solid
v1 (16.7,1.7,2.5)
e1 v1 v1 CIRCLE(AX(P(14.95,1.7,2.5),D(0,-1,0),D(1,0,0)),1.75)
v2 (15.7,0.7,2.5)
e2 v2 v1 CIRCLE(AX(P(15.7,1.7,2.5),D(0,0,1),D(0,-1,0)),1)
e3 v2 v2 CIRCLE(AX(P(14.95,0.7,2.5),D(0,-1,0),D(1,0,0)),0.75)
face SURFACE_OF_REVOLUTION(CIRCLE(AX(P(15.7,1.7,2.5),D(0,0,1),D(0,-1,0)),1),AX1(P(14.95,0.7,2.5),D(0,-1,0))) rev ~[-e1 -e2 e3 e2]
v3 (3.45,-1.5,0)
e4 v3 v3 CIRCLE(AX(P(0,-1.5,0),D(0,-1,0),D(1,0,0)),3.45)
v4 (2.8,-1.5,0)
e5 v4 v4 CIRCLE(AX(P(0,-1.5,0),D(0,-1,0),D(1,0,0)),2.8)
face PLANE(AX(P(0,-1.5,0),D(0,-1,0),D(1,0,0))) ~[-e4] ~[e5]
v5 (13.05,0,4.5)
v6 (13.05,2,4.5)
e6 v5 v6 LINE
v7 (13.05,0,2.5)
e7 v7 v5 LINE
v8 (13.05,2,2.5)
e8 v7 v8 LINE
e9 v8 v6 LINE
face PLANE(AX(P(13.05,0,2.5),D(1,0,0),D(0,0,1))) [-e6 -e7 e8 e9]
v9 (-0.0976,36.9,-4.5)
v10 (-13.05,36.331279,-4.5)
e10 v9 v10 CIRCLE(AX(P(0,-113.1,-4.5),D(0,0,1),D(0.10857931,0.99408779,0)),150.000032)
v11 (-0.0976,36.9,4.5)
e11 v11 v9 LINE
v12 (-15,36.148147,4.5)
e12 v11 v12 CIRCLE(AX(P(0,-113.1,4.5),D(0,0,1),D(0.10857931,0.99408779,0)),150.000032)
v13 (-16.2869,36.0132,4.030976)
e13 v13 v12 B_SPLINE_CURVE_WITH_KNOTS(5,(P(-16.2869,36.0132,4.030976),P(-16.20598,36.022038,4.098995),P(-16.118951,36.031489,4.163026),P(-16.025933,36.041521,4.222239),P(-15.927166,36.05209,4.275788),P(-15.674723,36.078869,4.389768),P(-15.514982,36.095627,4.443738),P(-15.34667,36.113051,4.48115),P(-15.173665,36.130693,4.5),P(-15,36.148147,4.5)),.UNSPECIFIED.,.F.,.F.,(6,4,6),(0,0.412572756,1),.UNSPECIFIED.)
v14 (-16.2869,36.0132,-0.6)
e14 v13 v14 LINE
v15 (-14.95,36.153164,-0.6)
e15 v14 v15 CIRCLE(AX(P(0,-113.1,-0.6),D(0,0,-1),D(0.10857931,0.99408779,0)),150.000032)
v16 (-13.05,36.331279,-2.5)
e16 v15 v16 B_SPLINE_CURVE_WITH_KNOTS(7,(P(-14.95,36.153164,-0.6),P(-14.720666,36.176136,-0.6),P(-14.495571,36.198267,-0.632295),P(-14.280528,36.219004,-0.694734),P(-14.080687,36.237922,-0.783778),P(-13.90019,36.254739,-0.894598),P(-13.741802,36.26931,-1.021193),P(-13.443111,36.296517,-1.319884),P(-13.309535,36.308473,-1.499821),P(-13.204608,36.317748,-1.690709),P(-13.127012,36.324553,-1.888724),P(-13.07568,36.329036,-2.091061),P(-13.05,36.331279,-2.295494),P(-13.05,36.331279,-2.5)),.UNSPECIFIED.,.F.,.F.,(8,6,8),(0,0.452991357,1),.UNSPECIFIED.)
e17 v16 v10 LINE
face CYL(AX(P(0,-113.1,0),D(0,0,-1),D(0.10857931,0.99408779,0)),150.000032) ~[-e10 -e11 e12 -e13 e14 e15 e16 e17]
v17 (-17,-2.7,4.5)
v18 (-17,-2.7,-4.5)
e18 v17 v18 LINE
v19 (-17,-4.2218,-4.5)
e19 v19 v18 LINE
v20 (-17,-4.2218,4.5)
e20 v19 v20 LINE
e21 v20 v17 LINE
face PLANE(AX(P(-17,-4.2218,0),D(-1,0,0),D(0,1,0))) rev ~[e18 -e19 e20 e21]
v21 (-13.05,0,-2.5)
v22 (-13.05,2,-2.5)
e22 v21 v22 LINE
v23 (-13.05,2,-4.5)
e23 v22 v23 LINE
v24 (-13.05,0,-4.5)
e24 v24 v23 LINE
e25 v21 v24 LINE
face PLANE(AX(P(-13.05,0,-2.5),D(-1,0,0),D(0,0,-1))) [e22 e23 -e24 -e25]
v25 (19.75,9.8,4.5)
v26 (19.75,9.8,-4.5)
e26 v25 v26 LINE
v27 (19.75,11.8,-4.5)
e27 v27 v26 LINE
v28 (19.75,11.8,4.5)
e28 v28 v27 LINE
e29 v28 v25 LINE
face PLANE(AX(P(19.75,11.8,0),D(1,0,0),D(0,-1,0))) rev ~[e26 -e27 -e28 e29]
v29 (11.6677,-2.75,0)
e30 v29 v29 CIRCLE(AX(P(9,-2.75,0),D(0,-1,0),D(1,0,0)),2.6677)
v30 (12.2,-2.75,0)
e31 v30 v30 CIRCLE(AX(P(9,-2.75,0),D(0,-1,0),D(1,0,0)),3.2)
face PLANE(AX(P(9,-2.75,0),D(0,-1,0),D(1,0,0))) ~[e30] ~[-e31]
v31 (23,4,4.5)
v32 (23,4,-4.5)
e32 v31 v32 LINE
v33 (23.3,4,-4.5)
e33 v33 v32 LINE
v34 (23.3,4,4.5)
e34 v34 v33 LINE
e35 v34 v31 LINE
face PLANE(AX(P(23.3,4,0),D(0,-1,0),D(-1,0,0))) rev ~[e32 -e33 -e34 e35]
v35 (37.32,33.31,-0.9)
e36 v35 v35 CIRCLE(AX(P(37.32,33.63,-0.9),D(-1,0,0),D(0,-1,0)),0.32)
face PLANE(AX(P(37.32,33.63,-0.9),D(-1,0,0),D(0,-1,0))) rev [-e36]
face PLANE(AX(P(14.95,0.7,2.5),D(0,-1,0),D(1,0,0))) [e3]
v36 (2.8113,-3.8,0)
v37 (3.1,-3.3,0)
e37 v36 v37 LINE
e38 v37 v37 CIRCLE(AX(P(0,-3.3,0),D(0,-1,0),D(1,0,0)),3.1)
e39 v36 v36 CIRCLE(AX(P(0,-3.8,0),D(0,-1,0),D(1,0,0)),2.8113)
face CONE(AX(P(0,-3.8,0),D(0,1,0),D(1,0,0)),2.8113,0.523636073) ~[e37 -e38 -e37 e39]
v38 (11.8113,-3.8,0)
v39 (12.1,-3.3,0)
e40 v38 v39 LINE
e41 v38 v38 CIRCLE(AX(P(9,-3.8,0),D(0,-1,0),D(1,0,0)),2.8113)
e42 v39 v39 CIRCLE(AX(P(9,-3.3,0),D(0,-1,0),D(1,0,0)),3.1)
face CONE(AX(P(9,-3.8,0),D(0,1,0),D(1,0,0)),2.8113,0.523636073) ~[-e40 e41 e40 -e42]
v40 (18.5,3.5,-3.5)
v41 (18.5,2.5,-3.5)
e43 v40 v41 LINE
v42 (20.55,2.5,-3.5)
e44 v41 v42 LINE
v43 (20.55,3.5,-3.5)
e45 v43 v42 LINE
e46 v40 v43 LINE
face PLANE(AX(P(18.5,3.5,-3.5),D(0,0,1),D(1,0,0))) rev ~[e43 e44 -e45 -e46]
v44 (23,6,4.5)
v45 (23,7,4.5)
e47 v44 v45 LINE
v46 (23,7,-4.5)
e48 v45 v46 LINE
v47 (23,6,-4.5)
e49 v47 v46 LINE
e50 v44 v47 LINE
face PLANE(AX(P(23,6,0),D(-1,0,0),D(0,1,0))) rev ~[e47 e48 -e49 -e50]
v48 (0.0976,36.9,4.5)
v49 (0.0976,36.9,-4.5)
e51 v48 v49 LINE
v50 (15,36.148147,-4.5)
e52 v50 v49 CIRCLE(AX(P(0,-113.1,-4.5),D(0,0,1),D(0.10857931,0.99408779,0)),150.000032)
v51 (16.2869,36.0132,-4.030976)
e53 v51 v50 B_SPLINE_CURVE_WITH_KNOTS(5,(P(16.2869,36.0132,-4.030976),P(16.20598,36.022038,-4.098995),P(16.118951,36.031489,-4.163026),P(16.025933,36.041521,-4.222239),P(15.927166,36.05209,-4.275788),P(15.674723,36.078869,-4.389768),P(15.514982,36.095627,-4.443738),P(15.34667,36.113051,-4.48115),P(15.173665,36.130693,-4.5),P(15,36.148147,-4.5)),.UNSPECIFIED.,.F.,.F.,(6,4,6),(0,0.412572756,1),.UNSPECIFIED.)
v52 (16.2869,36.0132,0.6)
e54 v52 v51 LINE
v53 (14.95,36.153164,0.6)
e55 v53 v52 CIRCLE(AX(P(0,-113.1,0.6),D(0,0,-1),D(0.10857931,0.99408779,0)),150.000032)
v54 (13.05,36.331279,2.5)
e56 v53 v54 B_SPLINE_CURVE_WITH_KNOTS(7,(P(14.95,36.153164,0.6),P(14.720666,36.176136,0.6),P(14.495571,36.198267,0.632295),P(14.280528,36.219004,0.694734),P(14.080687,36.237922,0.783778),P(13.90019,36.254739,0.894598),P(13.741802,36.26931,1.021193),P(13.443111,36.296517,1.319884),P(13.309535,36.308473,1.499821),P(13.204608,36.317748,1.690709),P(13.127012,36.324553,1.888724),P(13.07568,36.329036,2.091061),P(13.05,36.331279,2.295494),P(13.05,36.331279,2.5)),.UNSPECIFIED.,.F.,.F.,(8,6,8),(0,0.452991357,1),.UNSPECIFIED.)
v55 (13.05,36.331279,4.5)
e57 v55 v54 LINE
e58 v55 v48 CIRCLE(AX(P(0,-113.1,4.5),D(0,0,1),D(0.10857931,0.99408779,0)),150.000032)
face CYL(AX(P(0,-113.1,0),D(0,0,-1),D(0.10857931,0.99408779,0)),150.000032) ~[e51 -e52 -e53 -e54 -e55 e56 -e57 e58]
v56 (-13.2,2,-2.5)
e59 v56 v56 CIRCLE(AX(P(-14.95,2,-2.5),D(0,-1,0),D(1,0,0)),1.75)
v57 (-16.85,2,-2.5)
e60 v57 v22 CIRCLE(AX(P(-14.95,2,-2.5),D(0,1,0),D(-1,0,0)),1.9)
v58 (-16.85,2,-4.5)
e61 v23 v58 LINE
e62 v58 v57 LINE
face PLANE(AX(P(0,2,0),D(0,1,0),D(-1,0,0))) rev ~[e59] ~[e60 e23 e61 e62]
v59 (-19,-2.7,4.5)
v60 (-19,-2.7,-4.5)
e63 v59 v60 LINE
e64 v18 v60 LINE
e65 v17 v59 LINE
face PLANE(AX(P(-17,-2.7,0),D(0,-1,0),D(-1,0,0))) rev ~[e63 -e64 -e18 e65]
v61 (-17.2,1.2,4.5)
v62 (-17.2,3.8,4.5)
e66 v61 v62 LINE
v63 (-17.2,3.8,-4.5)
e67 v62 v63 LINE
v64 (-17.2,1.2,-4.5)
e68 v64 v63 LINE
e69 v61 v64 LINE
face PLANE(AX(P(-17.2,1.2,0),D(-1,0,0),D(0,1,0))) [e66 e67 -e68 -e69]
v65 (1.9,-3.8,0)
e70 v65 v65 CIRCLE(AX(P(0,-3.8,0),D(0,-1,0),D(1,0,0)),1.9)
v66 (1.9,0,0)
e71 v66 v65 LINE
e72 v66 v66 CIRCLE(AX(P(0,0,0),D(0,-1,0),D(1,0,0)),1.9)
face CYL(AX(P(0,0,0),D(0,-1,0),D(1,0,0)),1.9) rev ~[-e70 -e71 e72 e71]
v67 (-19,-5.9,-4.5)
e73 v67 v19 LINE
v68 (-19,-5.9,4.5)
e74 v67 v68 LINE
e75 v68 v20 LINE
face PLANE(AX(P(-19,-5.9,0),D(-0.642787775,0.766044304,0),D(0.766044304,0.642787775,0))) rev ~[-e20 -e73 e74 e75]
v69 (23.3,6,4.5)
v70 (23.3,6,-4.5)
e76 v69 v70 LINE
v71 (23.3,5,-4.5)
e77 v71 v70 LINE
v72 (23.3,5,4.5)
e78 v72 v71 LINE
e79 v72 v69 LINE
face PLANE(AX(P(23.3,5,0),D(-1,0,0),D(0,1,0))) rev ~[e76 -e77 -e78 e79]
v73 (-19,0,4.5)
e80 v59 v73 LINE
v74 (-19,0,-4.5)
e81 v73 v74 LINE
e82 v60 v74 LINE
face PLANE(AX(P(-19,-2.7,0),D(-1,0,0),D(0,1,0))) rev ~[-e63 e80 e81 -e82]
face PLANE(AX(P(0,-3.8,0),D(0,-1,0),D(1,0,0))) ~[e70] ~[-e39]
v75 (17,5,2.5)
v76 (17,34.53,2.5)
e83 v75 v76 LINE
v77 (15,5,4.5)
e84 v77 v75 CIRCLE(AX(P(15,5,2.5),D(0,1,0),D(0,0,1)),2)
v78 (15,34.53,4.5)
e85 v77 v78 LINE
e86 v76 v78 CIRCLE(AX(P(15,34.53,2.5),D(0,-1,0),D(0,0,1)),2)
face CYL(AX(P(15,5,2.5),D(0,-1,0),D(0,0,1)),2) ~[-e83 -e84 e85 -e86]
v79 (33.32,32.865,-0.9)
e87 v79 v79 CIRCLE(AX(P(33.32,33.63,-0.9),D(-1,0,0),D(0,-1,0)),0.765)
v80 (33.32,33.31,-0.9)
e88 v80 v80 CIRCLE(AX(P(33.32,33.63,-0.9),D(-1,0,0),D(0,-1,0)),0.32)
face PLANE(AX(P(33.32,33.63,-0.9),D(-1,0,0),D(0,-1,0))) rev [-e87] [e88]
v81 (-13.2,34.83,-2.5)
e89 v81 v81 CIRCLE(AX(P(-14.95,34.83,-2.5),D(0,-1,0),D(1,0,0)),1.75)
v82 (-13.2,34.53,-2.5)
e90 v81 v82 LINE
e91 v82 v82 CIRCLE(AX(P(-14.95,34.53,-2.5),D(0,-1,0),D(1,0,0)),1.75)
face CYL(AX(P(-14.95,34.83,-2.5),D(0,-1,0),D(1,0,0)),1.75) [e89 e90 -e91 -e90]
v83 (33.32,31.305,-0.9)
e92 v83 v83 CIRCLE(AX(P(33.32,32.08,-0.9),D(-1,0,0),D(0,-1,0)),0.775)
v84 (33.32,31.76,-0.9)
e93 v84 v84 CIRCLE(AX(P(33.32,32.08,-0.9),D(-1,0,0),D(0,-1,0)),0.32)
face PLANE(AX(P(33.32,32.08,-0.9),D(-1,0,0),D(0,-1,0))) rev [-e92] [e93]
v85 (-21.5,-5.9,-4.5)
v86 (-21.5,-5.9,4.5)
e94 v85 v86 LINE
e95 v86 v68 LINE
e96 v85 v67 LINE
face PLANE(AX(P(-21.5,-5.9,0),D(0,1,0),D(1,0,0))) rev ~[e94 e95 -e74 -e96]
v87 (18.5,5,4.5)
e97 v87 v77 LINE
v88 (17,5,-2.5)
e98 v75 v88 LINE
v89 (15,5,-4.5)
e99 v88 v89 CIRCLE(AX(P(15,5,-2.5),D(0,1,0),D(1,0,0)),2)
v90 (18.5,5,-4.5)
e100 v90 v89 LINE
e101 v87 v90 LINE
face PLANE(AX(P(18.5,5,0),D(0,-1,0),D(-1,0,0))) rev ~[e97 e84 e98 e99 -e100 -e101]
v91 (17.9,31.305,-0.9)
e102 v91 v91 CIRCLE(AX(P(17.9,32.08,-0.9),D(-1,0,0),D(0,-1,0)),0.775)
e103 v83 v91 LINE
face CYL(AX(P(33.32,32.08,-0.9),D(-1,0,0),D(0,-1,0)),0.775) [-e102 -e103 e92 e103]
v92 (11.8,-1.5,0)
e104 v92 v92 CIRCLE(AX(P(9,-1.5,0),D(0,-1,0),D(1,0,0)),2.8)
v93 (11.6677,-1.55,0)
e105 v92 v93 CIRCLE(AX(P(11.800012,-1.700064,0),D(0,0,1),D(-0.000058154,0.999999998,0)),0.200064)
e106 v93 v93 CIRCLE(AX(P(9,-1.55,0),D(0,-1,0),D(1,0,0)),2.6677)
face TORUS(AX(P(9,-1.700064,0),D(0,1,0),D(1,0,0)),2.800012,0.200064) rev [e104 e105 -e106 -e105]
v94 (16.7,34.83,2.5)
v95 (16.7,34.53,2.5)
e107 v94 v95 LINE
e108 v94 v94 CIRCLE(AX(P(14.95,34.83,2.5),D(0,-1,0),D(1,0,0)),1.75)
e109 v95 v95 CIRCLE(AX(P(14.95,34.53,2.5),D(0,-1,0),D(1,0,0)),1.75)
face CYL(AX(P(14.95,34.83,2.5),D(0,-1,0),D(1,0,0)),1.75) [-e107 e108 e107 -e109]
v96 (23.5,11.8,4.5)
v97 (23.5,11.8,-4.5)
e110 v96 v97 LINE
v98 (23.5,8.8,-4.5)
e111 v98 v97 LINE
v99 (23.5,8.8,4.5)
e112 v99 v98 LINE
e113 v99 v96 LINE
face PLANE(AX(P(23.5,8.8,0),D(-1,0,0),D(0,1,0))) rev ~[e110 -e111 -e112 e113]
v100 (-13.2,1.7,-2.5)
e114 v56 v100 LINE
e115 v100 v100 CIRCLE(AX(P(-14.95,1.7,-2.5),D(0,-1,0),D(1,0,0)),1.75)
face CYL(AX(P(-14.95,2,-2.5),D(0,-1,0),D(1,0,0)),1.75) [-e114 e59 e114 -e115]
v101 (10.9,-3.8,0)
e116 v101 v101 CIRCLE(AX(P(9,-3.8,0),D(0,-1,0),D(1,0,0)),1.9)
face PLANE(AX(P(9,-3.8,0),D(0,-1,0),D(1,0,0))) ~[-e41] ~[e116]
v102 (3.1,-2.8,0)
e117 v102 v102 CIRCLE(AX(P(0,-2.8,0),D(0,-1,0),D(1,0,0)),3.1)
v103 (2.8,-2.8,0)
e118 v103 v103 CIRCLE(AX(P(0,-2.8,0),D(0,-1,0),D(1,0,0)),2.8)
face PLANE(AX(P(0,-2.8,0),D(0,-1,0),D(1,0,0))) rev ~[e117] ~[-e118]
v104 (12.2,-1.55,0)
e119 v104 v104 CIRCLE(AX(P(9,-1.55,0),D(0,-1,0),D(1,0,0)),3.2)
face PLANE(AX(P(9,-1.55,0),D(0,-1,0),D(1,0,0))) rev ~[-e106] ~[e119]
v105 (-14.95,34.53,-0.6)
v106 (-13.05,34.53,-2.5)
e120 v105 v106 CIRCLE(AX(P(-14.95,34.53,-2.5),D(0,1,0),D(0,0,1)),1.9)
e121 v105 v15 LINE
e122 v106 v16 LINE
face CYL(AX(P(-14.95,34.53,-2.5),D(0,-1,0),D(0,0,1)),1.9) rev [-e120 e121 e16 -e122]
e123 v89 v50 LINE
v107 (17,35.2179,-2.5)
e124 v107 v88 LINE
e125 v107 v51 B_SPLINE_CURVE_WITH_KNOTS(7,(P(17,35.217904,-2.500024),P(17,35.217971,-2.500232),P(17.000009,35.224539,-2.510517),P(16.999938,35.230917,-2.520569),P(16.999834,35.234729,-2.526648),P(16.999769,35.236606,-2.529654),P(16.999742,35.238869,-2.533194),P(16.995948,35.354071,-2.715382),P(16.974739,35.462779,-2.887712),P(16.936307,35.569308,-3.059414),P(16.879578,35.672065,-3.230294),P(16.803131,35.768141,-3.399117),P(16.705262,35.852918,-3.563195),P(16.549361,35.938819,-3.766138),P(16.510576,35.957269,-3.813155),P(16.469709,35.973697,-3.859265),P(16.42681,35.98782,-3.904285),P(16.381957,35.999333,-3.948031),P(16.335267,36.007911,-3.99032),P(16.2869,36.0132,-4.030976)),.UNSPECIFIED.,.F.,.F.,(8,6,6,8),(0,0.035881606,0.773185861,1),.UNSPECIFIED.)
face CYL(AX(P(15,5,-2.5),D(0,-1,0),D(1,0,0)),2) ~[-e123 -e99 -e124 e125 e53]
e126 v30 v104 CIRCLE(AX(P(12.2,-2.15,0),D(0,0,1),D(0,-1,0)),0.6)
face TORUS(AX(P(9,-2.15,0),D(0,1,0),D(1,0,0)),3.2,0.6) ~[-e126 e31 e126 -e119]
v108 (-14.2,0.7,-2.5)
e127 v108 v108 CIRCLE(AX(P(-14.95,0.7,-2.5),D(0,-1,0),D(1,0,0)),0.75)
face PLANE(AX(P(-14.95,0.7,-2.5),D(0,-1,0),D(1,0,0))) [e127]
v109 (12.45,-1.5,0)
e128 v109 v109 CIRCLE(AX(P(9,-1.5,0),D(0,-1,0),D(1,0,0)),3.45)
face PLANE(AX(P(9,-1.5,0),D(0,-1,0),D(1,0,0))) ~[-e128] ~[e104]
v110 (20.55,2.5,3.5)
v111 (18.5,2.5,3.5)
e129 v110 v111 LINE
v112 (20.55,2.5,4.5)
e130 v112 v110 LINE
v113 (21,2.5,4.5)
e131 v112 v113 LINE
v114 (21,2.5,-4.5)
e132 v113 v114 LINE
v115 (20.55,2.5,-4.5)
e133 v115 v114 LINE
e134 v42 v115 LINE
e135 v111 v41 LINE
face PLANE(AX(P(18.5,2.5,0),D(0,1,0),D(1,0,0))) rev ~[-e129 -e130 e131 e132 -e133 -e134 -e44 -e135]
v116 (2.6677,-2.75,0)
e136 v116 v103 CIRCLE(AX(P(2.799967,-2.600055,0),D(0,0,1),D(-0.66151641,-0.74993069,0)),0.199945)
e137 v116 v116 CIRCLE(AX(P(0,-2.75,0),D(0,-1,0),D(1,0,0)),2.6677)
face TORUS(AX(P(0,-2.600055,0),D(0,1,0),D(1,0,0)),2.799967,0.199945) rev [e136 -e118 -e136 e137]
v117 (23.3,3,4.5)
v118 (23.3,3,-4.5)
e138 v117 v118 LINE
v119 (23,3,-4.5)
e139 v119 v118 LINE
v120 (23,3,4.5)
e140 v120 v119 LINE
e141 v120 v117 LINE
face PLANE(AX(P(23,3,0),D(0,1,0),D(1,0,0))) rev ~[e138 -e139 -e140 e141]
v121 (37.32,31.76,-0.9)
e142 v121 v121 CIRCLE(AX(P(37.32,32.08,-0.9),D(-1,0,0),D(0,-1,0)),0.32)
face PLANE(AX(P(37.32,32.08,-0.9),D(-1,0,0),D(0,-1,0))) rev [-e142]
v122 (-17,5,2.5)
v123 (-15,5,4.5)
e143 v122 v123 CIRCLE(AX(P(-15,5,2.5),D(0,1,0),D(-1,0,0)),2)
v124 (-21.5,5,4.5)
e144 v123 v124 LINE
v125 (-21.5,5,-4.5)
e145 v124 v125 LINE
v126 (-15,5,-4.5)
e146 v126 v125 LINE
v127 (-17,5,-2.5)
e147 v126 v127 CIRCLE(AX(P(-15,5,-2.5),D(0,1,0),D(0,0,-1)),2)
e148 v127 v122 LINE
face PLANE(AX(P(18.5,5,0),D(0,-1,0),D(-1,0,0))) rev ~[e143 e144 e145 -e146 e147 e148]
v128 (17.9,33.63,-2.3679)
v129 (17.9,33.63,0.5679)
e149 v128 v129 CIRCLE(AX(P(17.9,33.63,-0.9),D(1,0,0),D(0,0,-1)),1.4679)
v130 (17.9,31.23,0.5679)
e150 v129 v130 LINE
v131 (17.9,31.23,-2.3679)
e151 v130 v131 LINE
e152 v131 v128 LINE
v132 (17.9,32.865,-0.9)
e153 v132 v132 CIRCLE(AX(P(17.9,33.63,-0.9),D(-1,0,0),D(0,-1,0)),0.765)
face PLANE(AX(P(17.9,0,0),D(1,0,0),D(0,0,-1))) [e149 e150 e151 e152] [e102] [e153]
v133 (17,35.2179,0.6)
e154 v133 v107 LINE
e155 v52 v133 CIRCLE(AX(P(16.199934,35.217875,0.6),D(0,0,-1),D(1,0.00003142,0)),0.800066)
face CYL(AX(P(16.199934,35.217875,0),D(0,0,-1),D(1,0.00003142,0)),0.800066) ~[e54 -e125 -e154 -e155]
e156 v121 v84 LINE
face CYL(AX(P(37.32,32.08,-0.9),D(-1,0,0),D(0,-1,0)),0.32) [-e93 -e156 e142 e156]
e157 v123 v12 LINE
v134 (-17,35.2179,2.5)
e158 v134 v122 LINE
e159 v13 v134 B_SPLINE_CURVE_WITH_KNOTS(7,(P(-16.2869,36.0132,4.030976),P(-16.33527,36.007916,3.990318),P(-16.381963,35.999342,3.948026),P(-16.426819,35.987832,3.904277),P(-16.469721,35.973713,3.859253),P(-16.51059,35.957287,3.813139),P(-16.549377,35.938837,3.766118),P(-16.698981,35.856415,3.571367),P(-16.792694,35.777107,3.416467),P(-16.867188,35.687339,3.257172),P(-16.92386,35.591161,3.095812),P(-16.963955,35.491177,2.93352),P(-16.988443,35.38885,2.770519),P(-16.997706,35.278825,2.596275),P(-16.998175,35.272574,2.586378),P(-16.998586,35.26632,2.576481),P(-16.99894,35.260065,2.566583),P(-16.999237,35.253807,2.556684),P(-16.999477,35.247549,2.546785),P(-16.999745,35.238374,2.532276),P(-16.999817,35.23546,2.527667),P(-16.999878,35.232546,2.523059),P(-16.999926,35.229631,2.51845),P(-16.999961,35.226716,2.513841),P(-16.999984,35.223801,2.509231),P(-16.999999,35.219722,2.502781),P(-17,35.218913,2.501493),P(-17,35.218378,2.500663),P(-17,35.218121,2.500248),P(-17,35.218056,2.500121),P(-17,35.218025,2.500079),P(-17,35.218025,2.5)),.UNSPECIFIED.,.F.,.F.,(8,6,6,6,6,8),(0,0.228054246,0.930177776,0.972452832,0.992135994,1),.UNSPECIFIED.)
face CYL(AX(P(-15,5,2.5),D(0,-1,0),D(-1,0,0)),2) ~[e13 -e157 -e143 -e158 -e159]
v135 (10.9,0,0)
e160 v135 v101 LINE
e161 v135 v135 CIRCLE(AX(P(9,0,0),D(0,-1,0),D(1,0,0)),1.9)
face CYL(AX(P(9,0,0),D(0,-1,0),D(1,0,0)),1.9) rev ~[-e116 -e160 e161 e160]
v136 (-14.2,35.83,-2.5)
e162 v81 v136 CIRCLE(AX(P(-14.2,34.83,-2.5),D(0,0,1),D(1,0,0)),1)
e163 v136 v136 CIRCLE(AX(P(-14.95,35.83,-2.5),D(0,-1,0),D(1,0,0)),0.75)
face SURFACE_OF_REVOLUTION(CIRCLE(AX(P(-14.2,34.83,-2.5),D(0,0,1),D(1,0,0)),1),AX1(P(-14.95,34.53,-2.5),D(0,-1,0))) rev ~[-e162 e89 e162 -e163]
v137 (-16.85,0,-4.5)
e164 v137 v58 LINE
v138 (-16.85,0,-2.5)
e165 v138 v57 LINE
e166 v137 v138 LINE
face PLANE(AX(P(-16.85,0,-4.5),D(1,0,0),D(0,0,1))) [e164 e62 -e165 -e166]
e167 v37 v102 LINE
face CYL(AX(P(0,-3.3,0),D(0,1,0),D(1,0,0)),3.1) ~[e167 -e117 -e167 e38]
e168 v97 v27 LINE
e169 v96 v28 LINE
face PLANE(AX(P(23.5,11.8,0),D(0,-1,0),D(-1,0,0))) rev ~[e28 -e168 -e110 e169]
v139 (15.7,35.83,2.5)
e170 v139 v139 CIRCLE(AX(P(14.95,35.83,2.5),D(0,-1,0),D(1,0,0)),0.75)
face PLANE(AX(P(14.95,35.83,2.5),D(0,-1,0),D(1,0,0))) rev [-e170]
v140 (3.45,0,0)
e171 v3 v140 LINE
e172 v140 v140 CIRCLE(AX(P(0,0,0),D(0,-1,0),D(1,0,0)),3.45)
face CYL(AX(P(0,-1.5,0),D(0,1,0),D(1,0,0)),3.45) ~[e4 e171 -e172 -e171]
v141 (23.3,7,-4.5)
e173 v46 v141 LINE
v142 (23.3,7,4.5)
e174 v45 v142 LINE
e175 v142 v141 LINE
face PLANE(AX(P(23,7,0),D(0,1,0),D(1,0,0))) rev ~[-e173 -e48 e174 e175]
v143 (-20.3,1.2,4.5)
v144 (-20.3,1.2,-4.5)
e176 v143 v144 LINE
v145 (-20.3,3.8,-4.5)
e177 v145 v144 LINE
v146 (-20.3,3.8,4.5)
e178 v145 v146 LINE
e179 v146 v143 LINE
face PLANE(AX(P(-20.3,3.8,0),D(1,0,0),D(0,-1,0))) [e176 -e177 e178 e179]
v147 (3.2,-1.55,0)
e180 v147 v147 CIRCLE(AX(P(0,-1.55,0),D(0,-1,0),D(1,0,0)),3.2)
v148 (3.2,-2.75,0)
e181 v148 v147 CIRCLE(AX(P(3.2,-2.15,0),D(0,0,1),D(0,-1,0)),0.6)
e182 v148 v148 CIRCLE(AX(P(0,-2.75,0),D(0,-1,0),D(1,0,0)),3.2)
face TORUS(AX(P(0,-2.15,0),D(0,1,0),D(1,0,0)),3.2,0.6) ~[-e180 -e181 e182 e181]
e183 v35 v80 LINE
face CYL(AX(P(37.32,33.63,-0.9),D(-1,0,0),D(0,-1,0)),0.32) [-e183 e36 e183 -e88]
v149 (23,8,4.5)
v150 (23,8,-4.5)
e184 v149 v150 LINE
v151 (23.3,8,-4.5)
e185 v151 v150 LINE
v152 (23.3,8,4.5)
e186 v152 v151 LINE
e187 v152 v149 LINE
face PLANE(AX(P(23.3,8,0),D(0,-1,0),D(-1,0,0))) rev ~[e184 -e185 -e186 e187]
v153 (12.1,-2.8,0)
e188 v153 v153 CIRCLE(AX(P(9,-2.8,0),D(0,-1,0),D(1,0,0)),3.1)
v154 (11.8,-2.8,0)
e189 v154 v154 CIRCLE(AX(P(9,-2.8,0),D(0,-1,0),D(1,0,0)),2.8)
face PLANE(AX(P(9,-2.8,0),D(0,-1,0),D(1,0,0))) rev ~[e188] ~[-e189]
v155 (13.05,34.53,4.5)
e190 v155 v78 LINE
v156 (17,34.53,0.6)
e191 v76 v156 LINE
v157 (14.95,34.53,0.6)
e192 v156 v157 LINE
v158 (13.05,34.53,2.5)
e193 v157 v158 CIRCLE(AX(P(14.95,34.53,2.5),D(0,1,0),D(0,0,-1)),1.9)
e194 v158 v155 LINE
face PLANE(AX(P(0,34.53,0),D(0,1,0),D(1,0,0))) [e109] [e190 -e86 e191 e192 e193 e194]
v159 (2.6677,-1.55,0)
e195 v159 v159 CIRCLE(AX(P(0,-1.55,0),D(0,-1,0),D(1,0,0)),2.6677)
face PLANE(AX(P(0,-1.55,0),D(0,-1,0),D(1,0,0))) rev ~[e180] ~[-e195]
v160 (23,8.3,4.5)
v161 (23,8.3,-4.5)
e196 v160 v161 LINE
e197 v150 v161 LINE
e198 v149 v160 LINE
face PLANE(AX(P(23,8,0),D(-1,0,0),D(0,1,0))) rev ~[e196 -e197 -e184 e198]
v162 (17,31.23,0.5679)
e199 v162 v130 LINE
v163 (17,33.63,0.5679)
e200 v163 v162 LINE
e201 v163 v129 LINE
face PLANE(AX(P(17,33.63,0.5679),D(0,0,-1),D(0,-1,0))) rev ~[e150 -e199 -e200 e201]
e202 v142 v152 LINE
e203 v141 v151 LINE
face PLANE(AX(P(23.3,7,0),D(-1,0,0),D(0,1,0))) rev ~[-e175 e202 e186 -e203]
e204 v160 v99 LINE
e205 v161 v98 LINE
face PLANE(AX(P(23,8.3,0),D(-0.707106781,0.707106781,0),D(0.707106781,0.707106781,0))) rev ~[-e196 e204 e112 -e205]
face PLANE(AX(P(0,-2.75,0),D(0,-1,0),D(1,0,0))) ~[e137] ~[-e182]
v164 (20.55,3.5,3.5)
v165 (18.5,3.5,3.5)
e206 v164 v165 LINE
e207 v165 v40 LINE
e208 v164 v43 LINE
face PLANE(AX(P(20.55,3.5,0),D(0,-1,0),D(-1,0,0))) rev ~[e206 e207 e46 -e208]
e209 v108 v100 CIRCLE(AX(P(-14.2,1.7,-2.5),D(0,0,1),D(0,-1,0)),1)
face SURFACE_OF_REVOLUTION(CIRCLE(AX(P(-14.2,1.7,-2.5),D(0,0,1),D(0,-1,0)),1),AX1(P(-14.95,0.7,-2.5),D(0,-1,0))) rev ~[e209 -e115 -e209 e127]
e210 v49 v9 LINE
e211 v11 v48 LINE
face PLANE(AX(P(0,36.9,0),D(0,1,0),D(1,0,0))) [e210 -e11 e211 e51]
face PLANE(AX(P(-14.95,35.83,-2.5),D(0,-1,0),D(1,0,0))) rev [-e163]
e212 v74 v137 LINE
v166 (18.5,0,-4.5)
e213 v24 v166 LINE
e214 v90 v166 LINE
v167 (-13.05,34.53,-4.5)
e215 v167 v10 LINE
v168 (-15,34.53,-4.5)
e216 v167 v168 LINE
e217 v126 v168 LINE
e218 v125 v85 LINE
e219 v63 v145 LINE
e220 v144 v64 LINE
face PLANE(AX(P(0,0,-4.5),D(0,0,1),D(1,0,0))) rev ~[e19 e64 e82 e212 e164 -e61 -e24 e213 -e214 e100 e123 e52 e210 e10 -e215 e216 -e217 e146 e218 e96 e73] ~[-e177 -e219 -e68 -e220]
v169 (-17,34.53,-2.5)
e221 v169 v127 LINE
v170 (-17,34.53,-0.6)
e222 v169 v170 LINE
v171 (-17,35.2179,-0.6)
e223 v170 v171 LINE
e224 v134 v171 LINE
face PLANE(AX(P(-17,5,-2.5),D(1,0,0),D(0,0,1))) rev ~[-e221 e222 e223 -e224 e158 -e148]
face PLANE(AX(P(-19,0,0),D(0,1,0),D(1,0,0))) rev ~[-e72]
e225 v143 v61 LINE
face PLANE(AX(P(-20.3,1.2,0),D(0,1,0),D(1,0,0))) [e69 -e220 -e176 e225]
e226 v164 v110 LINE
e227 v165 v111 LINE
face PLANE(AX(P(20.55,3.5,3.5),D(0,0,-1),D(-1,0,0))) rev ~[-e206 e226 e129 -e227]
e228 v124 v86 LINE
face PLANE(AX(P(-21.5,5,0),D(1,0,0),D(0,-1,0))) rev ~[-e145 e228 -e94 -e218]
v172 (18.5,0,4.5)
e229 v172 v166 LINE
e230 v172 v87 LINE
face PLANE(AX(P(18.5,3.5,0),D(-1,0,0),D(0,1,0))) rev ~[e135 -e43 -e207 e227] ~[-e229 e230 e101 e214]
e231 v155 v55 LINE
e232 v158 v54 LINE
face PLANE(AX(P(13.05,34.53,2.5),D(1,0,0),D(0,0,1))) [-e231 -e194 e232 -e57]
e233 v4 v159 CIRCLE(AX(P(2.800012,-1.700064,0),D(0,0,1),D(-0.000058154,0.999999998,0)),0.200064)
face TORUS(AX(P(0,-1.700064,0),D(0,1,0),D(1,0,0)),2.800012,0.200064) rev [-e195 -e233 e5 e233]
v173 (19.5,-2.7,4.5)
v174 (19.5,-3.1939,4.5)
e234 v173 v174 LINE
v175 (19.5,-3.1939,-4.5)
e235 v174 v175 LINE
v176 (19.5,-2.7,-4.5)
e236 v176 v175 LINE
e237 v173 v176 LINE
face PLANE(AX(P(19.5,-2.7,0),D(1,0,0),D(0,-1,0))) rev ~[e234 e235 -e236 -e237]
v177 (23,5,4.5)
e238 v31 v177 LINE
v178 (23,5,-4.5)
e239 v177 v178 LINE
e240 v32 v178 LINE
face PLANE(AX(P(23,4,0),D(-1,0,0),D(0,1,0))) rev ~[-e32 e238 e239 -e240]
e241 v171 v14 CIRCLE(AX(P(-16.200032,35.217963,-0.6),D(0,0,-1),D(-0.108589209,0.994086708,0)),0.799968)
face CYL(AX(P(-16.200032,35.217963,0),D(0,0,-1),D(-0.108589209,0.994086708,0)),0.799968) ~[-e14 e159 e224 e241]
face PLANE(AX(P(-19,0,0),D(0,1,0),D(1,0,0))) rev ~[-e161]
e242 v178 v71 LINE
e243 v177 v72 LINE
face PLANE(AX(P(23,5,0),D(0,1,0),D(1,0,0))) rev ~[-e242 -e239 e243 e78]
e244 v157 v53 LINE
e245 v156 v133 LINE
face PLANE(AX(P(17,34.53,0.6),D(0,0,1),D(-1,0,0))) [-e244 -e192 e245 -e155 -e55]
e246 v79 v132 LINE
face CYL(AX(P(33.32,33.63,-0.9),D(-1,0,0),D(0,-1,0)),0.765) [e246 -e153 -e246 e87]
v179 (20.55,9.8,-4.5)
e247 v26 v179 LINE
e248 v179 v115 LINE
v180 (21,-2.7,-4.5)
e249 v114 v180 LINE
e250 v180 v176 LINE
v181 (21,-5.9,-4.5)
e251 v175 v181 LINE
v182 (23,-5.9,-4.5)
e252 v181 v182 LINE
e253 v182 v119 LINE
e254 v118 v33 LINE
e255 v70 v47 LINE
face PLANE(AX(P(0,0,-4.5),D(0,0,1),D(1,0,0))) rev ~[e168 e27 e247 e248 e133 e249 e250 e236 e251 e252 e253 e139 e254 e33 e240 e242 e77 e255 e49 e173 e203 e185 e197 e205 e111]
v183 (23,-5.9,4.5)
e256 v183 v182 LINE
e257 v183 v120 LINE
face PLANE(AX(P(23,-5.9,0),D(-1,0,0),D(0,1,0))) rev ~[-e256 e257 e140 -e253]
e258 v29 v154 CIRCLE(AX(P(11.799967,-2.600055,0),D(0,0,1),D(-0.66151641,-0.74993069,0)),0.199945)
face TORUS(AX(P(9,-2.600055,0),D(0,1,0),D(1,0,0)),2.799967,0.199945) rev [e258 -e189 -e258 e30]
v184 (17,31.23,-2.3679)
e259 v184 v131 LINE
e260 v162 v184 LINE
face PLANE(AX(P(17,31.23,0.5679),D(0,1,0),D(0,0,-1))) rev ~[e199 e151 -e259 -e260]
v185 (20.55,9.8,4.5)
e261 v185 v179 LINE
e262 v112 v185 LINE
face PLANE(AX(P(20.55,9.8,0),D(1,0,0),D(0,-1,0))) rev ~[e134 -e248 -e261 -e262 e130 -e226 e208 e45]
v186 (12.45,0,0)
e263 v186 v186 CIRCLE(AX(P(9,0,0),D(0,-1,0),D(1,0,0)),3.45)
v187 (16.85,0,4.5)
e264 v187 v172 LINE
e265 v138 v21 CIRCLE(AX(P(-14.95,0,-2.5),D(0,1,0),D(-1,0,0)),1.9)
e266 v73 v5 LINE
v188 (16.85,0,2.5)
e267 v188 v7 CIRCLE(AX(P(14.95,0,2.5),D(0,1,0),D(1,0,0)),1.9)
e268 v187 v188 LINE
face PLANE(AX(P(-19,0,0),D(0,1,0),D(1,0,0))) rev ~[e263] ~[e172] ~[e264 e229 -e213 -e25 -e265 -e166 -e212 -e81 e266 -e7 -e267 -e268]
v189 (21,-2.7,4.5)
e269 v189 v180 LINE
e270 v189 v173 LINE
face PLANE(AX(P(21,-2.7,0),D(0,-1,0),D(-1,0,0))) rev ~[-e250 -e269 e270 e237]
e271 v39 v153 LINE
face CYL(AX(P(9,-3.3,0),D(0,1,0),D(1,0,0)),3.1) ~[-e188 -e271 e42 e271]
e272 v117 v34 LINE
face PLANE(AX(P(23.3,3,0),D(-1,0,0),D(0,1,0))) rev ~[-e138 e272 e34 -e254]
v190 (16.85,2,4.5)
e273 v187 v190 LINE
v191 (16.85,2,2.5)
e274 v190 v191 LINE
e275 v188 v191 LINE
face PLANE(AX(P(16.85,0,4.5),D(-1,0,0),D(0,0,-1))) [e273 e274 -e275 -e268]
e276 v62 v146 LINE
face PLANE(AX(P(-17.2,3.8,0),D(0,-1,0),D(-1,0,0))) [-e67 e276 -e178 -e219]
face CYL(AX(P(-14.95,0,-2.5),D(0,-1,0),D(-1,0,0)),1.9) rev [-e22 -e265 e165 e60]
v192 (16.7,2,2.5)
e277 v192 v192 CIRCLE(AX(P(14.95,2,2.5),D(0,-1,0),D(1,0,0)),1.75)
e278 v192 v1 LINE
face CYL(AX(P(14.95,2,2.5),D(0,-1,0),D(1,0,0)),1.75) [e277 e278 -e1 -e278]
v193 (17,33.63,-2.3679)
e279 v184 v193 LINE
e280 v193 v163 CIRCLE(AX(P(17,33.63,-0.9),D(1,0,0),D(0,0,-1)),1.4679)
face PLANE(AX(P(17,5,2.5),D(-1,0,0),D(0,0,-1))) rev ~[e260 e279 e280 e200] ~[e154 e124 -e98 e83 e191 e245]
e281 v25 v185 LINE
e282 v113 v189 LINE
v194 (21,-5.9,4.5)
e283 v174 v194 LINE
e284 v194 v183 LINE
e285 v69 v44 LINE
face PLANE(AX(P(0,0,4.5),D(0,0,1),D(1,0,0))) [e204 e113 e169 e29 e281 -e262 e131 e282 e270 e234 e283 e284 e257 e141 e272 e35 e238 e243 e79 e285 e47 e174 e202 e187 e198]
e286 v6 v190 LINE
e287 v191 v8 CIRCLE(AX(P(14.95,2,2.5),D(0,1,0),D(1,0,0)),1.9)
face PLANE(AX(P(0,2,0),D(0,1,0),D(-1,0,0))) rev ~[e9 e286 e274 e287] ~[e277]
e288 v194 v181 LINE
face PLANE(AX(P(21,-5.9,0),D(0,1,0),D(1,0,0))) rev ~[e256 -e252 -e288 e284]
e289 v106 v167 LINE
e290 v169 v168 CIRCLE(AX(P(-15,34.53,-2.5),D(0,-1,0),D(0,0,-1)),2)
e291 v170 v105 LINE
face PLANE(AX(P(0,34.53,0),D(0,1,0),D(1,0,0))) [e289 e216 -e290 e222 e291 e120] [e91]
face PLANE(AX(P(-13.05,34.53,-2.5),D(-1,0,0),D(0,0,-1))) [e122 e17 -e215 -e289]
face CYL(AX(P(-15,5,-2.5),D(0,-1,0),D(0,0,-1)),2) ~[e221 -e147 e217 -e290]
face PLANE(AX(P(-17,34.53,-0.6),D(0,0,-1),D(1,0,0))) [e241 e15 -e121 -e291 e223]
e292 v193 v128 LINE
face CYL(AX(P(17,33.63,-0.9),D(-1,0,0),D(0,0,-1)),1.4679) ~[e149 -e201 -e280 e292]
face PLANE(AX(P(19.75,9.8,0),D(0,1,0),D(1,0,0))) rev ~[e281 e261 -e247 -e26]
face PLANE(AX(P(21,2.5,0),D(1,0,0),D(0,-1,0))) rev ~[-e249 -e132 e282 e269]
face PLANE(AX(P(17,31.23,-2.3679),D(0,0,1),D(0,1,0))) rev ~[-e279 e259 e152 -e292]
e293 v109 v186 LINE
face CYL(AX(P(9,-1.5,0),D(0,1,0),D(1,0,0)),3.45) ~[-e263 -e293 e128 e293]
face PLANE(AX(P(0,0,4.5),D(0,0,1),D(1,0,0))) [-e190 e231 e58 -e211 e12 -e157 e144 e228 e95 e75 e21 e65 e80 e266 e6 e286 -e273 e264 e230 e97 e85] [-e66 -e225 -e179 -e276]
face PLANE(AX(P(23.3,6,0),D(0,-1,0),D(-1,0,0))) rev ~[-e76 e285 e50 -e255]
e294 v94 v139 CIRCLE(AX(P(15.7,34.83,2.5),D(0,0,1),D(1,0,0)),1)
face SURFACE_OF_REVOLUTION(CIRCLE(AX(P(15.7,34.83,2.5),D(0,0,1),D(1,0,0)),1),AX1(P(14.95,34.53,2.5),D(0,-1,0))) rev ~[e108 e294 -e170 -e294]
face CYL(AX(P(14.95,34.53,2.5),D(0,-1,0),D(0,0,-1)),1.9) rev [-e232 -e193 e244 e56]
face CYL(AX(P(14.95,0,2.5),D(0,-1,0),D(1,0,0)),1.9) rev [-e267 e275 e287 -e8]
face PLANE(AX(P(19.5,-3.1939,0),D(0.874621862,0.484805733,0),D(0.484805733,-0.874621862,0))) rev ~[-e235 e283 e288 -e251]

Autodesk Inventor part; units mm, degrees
ref_plane "YZ Plane" through (0, 0, 0) normal (1, 0, 0) x (0, 1, 0)
ref_plane "XZ Plane" through (0, 0, 0) normal (0, 1, 0) x (-1, 0, 0)
ref_plane "XY Plane" through (0, 0, 0) normal (0, 0, 1) x (1, 0, 0)
sketch "Sketch_7" plane through (0, 0, 0) normal (0, 0, 1) x (1, 0, 0)
  line L0 (-21.5, -5.9) -> (-19, -5.9)
  line L1 (-19, -5.9) -> (-17, -4.2218)
  line L2 (-17, -4.2218) -> (-17, -2.7)
  line L3 (-17, -2.7) -> (-19, -2.7)
  line L4 (-19, -2.7) -> (-19, 0)
  line L5 (-19, 0) -> (18.5, 0)
  line L6 (18.5, 0) -> (18.5, 2.5)
  line L7 (18.5, 2.5) -> (21, 2.5)
  line L8 (21, 2.5) -> (21, -2.7)
  line L9 (21, -2.7) -> (19.5, -2.7)
  line L10 (19.5, -2.7) -> (19.5, -3.1939)
  line L11 (19.5, -3.1939) -> (21, -5.9)
  line L12 (21, -5.9) -> (23, -5.9)
  line L13 (23, -5.9) -> (23, 3)
  line L14 (23, 3) -> (23.3, 3)
  line L15 (23.3, 3) -> (23.3, 4)
  line L16 (23.3, 4) -> (23, 4)
  line L17 (23, 4) -> (23, 5)
  line L18 (23, 5) -> (23.3, 5)
  line L19 (23.3, 5) -> (23.3, 6)
  line L20 (23.3, 6) -> (23, 6)
  line L21 (23, 6) -> (23, 7)
  line L22 (23, 7) -> (23.3, 7)
  line L23 (23.3, 7) -> (23.3, 8)
  line L24 (23.3, 8) -> (23, 8)
  line L25 (23, 8) -> (23, 8.3)
  line L26 (23, 8.3) -> (23.5, 8.8)
  line L27 (23.5, 8.8) -> (23.5, 11.8)
  line L28 (23.5, 11.8) -> (19.75, 11.8)
  line L29 (19.75, 11.8) -> (19.75, 9.8)
  line L30 (19.75, 9.8) -> (20.55, 9.8)
  line L31 (20.55, 9.8) -> (20.55, 3.5)
  line L32 (20.55, 3.5) -> (18.5, 3.5)
  line L33 (18.5, 3.5) -> (18.5, 5)
  line L34 (18.5, 5) -> (-21.5, 5)
  line L35 (-21.5, 5) -> (-21.5, -5.9)
  line L36 (-20.3, 3.8) -> (-20.3, 1.2)
  line L37 (-20.3, 1.2) -> (-17.2, 1.2)
  line L38 (-17.2, 1.2) -> (-17.2, 3.8)
  line L39 (-17.2, 3.8) -> (-20.3, 3.8)
extrude "Extrusion1" add sketch "Sketch_7" along normal mid plane 9
sketch "Sketch_2" plane through (0, 5, 0) normal (0, 1, 0) x (1, 0, 0)
  line L0 (-17, 2.5) -> (-17, -2.5)
  arc A0 (-17, -2.5) -> (-15, -4.5) centre (-15, -2.5) ccw
  line L1 (-15, -4.5) -> (15, -4.5)
  arc A1 (15, -4.5) -> (17, -2.5) centre (15, -2.5) ccw
  line L2 (17, -2.5) -> (17, 2.5)
  arc A2 (17, 2.5) -> (15, 4.5) centre (15, 2.5) ccw
  line L3 (15, 4.5) -> (-15, 4.5)
  arc A3 (-15, 4.5) -> (-17, 2.5) centre (-15, 2.5) ccw
extrude "Extrusion2" add sketch "Sketch_2" along normal blind 31.9
sketch "Sketch_3" plane through (0, 0, 0) normal (0, 0, 1) x (1, 0, 0)
  line L0 (-19, 41) -> (-19, 6)
  line L1 (-19, 6) -> (-17, 6)
  line L2 (-17, 6) -> (-17, 35.2179)
  arc A0 (-16.2869, 36.0132) -> (-17, 35.2179) centre (-16.2, 35.2179) ccw
  arc A1 (16.2869, 36.0132) -> (-16.2869, 36.0132) centre (0, -113.1) ccw
  arc A2 (17, 35.2179) -> (16.2869, 36.0132) centre (16.2, 35.2179) ccw
  line L3 (17, 35.2179) -> (17, 6)
  line L4 (17, 6) -> (19, 6)
  line L5 (19, 6) -> (19, 41)
  line L6 (19, 41) -> (-19, 41)
extrude "Extrusion3" cut sketch "Sketch_3" along normal mid plane 9
sketch "Sketch_4" plane through (0, 34.53, 0) normal (0, 1, 0) x (1, 0, 0)
  line L0 (13.05, -4.5) -> (17, -4.5)
  line L1 (17, -4.5) -> (17, -0.6)
  line L2 (17, -0.6) -> (14.95, -0.6)
  arc A0 (14.95, -0.6) -> (13.05, -2.5) centre (14.95, -2.5) ccw
  line L3 (13.05, -2.5) -> (13.05, -4.5)
extrude "Extrusion4" cut sketch "Sketch_4" along normal blind 3
sketch "Sketch_5" plane through (0, 34.53, 0) normal (0, 1, 0) x (1, 0, 0)
  line L0 (-17, 4.5) -> (-17, 0.6)
  line L1 (-17, 0.6) -> (-14.95, 0.6)
  arc A0 (-14.95, 0.6) -> (-13.05, 2.5) centre (-14.95, 2.5) ccw
  line L2 (-13.05, 2.5) -> (-13.05, 4.5)
  line L3 (-13.05, 4.5) -> (-17, 4.5)
extrude "Extrusion5" cut sketch "Sketch_5" along normal blind 4.5
sketch "Sketch_6" plane through (18.5, 3.5, -4.5) normal (0, 1, 0) x (1, 0, 0)
  line L0 (0, 0) -> (0, -1)
  line L1 (0, -1) -> (2.05, -1)
  line L2 (2.05, -1) -> (2.05, 0)
  line L3 (2.05, 0) -> (0, 0)
extrude "Extrusion6" cut sketch "Sketch_6" against normal blind 1
sketch "Sketch_8" plane through (20.55, 3.5, 4.5) normal (0, 1, 0) x (-1, 0, 0)
  line L0 (0, -1) -> (2.05, -1)
  line L1 (2.05, -1) -> (2.05, 0)
  line L2 (2.05, 0) -> (0, 0)
  line L3 (0, 0) -> (0, -1)
extrude "Extrusion7" cut sketch "Sketch_8" against normal blind 1
sketch "Sketch_9" plane through (0, 0, 2.5) normal (0, 0, 1) x (1, 0, 0)
  line L0 (14.95, 34.53) -> (14.95, 35.83)
  line L1 (14.95, 35.83) -> (15.7, 35.83)
  arc A0 (16.7, 34.83) -> (15.7, 35.83) centre (15.7, 34.83) ccw
  line L2 (16.7, 34.83) -> (16.7, 34.53)
  line L3 (16.7, 34.53) -> (14.95, 34.53)
  line L4 (14.95, 34.53) -> (14.95, 35.83)
revolve "Revolution1" add sketch "Sketch_9" angle 360 about axis through (14.95, 34.53, 2.5) along (0, -1, 0)
sketch "Sketch_10" plane through (0, 0, -2.5) normal (0, 0, 1) x (1, 0, 0)
  line L0 (-14.95, 34.53) -> (-14.95, 35.83)
  line L1 (-14.95, 35.83) -> (-14.2, 35.83)
  arc A0 (-13.2, 34.83) -> (-14.2, 35.83) centre (-14.2, 34.83) ccw
  line L2 (-13.2, 34.83) -> (-13.2, 34.53)
  line L3 (-13.2, 34.53) -> (-14.95, 34.53)
  line L4 (-14.95, 34.53) -> (-14.95, 35.83)
revolve "Revolution2" add sketch "Sketch_10" angle 360 about axis through (-14.95, 34.53, -2.5) along (0, -1, 0)
sketch "Sketch_19" plane through (17, 0, 0) normal (1, 0, 0) x (0, 0, -1)
  line L0 (-0.5679, 31.23) -> (2.3679, 31.23)
  line L1 (2.3679, 31.23) -> (2.3679, 33.63)
  arc A0 (2.3679, 33.63) -> (-0.5679, 33.63) centre (0.9, 33.63) ccw
  line L2 (-0.5679, 33.63) -> (-0.5679, 31.23)
extrude "Extrusion8" add sketch "Sketch_19" along normal blind 0.9
sketch "Sketch_20" plane through (0, 0, -0.9) normal (0, 0, 1) x (1, 0, 0)
  line L0 (17, 32.08) -> (37.32, 32.08)
  line L1 (37.32, 32.08) -> (37.32, 31.76)
  line L2 (37.32, 31.76) -> (33.32, 31.76)
  line L3 (33.32, 31.76) -> (33.32, 31.305)
  line L4 (33.32, 31.305) -> (17, 31.305)
  line L5 (17, 31.305) -> (17, 32.08)
  line L6 (17, 32.08) -> (37.32, 32.08)
revolve "Revolution3" add sketch "Sketch_20" angle 360 about axis through (17, 32.08, -0.9) along (-1, 0, 0)
sketch "Sketch_21" plane through (0, 0, -0.9) normal (0, 0, 1) x (1, 0, 0)
  line L0 (17, 33.63) -> (37.32, 33.63)
  line L1 (37.32, 33.63) -> (37.32, 33.31)
  line L2 (37.32, 33.31) -> (33.32, 33.31)
  line L3 (33.32, 33.31) -> (33.32, 32.865)
  line L4 (33.32, 32.865) -> (17, 32.865)
  line L5 (17, 32.865) -> (17, 33.63)
  line L6 (17, 33.63) -> (37.32, 33.63)
revolve "Revolution4" add sketch "Sketch_21" angle 360 about axis through (17, 33.63, -0.9) along (-1, 0, 0)
sketch "Sketch_22" plane through (0, 0, 0) normal (0, 1, 0) x (-1, 0, 0)
  arc A0 (16.85, -2.5) -> (13.05, -2.5) centre (14.95, -2.5) ccw
  line L0 (13.05, -2.5) -> (13.05, -4.5)
  line L1 (13.05, -4.5) -> (16.85, -4.5)
  line L2 (16.85, -4.5) -> (16.85, -2.5)
extrude "Extrusion9" cut sketch "Sketch_22" along normal blind 2
sketch "Sketch_23" plane through (0, 0, 0) normal (0, 1, 0) x (-1, 0, 0)
  line L0 (-13.05, 2.5) -> (-13.05, 4.5)
  line L1 (-13.05, 4.5) -> (-16.85, 4.5)
  line L2 (-16.85, 4.5) -> (-16.85, 2.5)
  arc A0 (-16.85, 2.5) -> (-13.05, 2.5) centre (-14.95, 2.5) ccw
extrude "Extrusion10" cut sketch "Sketch_23" along normal blind 2
sketch "Sketch_24" plane through (0, 0, 2.5) normal (0, 0, 1) x (1, 0, 0)
  line L0 (14.95, 0.7) -> (14.95, 2)
  line L1 (14.95, 2) -> (16.7, 2)
  line L2 (16.7, 2) -> (16.7, 1.7)
  arc A0 (15.7, 0.7) -> (16.7, 1.7) centre (15.7, 1.7) ccw
  line L3 (15.7, 0.7) -> (14.95, 0.7)
  line L4 (14.95, 0.7) -> (14.95, 2)
revolve "Revolution5" add sketch "Sketch_24" angle 360 about axis through (14.95, 0.7, 2.5) along (0, -1, 0)
sketch "Sketch_25" plane through (0, 0, -2.5) normal (0, 0, 1) x (1, 0, 0)
  line L0 (-14.95, 0.7) -> (-14.95, 2)
  line L1 (-14.95, 2) -> (-13.2, 2)
  line L2 (-13.2, 2) -> (-13.2, 1.7)
  arc A0 (-14.2, 0.7) -> (-13.2, 1.7) centre (-14.2, 1.7) ccw
  line L3 (-14.2, 0.7) -> (-14.95, 0.7)
  line L4 (-14.95, 0.7) -> (-14.95, 2)
revolve "Revolution6" add sketch "Sketch_25" angle 360 about axis through (-14.95, 0.7, -2.5) along (0, -1, 0)
sketch "Sketch_26" plane through (0, 0, 0) normal (0, 0, 1) x (1, 0, 0)
  line L0 (0, -3.8) -> (0, 0)
  line L1 (1.9, 0) -> (1.9, -3.8)
  line L2 (1.9, -3.8) -> (2.8113, -3.8)
  line L3 (2.8113, -3.8) -> (3.1, -3.3)
  line L4 (3.1, -3.3) -> (3.1, -2.8)
  line L5 (3.1, -2.8) -> (2.8, -2.8)
  arc A0 (2.6677, -2.75) -> (2.8, -2.8) centre (2.8, -2.6) ccw
  line L6 (2.6677, -2.75) -> (3.2, -2.75)
  arc A1 (3.2, -2.75) -> (3.2, -1.55) centre (3.2, -2.15) ccw
  line L7 (3.2, -1.55) -> (2.6677, -1.55)
  arc A2 (2.8, -1.5) -> (2.6677, -1.55) centre (2.8, -1.7) ccw
  line L8 (2.8, -1.5) -> (3.45, -1.5)
  line L9 (3.45, -1.5) -> (3.45, 0)
  line L10 (3.45, 0) -> (1.9, 0)
revolve "Revolution7" add sketch "Sketch_26" angle 360 about axis through (0, -3.8, 0) along (0, -1, 0)
sketch "Sketch_27" plane through (0, 0, 0) normal (0, 0, 1) x (1, 0, 0)
  line L0 (9, -3.8) -> (9, 0)
  line L1 (10.9, 0) -> (10.9, -3.8)
  line L2 (10.9, -3.8) -> (11.8113, -3.8)
  line L3 (11.8113, -3.8) -> (12.1, -3.3)
  line L4 (12.1, -3.3) -> (12.1, -2.8)
  line L5 (12.1, -2.8) -> (11.8, -2.8)
  arc A0 (11.6677, -2.75) -> (11.8, -2.8) centre (11.8, -2.6) ccw
  line L6 (11.6677, -2.75) -> (12.2, -2.75)
  arc A1 (12.2, -2.75) -> (12.2, -1.55) centre (12.2, -2.15) ccw
  line L7 (12.2, -1.55) -> (11.6677, -1.55)
  arc A2 (11.8, -1.5) -> (11.6677, -1.55) centre (11.8, -1.7) ccw
  line L8 (11.8, -1.5) -> (12.45, -1.5)
  line L9 (12.45, -1.5) -> (12.45, 0)
  line L10 (12.45, 0) -> (10.9, 0)
revolve "Revolution8" add sketch "Sketch_27" angle 360 about axis through (9, -3.8, 0) along (0, -1, 0)
properties part number "SX12F-KH"
